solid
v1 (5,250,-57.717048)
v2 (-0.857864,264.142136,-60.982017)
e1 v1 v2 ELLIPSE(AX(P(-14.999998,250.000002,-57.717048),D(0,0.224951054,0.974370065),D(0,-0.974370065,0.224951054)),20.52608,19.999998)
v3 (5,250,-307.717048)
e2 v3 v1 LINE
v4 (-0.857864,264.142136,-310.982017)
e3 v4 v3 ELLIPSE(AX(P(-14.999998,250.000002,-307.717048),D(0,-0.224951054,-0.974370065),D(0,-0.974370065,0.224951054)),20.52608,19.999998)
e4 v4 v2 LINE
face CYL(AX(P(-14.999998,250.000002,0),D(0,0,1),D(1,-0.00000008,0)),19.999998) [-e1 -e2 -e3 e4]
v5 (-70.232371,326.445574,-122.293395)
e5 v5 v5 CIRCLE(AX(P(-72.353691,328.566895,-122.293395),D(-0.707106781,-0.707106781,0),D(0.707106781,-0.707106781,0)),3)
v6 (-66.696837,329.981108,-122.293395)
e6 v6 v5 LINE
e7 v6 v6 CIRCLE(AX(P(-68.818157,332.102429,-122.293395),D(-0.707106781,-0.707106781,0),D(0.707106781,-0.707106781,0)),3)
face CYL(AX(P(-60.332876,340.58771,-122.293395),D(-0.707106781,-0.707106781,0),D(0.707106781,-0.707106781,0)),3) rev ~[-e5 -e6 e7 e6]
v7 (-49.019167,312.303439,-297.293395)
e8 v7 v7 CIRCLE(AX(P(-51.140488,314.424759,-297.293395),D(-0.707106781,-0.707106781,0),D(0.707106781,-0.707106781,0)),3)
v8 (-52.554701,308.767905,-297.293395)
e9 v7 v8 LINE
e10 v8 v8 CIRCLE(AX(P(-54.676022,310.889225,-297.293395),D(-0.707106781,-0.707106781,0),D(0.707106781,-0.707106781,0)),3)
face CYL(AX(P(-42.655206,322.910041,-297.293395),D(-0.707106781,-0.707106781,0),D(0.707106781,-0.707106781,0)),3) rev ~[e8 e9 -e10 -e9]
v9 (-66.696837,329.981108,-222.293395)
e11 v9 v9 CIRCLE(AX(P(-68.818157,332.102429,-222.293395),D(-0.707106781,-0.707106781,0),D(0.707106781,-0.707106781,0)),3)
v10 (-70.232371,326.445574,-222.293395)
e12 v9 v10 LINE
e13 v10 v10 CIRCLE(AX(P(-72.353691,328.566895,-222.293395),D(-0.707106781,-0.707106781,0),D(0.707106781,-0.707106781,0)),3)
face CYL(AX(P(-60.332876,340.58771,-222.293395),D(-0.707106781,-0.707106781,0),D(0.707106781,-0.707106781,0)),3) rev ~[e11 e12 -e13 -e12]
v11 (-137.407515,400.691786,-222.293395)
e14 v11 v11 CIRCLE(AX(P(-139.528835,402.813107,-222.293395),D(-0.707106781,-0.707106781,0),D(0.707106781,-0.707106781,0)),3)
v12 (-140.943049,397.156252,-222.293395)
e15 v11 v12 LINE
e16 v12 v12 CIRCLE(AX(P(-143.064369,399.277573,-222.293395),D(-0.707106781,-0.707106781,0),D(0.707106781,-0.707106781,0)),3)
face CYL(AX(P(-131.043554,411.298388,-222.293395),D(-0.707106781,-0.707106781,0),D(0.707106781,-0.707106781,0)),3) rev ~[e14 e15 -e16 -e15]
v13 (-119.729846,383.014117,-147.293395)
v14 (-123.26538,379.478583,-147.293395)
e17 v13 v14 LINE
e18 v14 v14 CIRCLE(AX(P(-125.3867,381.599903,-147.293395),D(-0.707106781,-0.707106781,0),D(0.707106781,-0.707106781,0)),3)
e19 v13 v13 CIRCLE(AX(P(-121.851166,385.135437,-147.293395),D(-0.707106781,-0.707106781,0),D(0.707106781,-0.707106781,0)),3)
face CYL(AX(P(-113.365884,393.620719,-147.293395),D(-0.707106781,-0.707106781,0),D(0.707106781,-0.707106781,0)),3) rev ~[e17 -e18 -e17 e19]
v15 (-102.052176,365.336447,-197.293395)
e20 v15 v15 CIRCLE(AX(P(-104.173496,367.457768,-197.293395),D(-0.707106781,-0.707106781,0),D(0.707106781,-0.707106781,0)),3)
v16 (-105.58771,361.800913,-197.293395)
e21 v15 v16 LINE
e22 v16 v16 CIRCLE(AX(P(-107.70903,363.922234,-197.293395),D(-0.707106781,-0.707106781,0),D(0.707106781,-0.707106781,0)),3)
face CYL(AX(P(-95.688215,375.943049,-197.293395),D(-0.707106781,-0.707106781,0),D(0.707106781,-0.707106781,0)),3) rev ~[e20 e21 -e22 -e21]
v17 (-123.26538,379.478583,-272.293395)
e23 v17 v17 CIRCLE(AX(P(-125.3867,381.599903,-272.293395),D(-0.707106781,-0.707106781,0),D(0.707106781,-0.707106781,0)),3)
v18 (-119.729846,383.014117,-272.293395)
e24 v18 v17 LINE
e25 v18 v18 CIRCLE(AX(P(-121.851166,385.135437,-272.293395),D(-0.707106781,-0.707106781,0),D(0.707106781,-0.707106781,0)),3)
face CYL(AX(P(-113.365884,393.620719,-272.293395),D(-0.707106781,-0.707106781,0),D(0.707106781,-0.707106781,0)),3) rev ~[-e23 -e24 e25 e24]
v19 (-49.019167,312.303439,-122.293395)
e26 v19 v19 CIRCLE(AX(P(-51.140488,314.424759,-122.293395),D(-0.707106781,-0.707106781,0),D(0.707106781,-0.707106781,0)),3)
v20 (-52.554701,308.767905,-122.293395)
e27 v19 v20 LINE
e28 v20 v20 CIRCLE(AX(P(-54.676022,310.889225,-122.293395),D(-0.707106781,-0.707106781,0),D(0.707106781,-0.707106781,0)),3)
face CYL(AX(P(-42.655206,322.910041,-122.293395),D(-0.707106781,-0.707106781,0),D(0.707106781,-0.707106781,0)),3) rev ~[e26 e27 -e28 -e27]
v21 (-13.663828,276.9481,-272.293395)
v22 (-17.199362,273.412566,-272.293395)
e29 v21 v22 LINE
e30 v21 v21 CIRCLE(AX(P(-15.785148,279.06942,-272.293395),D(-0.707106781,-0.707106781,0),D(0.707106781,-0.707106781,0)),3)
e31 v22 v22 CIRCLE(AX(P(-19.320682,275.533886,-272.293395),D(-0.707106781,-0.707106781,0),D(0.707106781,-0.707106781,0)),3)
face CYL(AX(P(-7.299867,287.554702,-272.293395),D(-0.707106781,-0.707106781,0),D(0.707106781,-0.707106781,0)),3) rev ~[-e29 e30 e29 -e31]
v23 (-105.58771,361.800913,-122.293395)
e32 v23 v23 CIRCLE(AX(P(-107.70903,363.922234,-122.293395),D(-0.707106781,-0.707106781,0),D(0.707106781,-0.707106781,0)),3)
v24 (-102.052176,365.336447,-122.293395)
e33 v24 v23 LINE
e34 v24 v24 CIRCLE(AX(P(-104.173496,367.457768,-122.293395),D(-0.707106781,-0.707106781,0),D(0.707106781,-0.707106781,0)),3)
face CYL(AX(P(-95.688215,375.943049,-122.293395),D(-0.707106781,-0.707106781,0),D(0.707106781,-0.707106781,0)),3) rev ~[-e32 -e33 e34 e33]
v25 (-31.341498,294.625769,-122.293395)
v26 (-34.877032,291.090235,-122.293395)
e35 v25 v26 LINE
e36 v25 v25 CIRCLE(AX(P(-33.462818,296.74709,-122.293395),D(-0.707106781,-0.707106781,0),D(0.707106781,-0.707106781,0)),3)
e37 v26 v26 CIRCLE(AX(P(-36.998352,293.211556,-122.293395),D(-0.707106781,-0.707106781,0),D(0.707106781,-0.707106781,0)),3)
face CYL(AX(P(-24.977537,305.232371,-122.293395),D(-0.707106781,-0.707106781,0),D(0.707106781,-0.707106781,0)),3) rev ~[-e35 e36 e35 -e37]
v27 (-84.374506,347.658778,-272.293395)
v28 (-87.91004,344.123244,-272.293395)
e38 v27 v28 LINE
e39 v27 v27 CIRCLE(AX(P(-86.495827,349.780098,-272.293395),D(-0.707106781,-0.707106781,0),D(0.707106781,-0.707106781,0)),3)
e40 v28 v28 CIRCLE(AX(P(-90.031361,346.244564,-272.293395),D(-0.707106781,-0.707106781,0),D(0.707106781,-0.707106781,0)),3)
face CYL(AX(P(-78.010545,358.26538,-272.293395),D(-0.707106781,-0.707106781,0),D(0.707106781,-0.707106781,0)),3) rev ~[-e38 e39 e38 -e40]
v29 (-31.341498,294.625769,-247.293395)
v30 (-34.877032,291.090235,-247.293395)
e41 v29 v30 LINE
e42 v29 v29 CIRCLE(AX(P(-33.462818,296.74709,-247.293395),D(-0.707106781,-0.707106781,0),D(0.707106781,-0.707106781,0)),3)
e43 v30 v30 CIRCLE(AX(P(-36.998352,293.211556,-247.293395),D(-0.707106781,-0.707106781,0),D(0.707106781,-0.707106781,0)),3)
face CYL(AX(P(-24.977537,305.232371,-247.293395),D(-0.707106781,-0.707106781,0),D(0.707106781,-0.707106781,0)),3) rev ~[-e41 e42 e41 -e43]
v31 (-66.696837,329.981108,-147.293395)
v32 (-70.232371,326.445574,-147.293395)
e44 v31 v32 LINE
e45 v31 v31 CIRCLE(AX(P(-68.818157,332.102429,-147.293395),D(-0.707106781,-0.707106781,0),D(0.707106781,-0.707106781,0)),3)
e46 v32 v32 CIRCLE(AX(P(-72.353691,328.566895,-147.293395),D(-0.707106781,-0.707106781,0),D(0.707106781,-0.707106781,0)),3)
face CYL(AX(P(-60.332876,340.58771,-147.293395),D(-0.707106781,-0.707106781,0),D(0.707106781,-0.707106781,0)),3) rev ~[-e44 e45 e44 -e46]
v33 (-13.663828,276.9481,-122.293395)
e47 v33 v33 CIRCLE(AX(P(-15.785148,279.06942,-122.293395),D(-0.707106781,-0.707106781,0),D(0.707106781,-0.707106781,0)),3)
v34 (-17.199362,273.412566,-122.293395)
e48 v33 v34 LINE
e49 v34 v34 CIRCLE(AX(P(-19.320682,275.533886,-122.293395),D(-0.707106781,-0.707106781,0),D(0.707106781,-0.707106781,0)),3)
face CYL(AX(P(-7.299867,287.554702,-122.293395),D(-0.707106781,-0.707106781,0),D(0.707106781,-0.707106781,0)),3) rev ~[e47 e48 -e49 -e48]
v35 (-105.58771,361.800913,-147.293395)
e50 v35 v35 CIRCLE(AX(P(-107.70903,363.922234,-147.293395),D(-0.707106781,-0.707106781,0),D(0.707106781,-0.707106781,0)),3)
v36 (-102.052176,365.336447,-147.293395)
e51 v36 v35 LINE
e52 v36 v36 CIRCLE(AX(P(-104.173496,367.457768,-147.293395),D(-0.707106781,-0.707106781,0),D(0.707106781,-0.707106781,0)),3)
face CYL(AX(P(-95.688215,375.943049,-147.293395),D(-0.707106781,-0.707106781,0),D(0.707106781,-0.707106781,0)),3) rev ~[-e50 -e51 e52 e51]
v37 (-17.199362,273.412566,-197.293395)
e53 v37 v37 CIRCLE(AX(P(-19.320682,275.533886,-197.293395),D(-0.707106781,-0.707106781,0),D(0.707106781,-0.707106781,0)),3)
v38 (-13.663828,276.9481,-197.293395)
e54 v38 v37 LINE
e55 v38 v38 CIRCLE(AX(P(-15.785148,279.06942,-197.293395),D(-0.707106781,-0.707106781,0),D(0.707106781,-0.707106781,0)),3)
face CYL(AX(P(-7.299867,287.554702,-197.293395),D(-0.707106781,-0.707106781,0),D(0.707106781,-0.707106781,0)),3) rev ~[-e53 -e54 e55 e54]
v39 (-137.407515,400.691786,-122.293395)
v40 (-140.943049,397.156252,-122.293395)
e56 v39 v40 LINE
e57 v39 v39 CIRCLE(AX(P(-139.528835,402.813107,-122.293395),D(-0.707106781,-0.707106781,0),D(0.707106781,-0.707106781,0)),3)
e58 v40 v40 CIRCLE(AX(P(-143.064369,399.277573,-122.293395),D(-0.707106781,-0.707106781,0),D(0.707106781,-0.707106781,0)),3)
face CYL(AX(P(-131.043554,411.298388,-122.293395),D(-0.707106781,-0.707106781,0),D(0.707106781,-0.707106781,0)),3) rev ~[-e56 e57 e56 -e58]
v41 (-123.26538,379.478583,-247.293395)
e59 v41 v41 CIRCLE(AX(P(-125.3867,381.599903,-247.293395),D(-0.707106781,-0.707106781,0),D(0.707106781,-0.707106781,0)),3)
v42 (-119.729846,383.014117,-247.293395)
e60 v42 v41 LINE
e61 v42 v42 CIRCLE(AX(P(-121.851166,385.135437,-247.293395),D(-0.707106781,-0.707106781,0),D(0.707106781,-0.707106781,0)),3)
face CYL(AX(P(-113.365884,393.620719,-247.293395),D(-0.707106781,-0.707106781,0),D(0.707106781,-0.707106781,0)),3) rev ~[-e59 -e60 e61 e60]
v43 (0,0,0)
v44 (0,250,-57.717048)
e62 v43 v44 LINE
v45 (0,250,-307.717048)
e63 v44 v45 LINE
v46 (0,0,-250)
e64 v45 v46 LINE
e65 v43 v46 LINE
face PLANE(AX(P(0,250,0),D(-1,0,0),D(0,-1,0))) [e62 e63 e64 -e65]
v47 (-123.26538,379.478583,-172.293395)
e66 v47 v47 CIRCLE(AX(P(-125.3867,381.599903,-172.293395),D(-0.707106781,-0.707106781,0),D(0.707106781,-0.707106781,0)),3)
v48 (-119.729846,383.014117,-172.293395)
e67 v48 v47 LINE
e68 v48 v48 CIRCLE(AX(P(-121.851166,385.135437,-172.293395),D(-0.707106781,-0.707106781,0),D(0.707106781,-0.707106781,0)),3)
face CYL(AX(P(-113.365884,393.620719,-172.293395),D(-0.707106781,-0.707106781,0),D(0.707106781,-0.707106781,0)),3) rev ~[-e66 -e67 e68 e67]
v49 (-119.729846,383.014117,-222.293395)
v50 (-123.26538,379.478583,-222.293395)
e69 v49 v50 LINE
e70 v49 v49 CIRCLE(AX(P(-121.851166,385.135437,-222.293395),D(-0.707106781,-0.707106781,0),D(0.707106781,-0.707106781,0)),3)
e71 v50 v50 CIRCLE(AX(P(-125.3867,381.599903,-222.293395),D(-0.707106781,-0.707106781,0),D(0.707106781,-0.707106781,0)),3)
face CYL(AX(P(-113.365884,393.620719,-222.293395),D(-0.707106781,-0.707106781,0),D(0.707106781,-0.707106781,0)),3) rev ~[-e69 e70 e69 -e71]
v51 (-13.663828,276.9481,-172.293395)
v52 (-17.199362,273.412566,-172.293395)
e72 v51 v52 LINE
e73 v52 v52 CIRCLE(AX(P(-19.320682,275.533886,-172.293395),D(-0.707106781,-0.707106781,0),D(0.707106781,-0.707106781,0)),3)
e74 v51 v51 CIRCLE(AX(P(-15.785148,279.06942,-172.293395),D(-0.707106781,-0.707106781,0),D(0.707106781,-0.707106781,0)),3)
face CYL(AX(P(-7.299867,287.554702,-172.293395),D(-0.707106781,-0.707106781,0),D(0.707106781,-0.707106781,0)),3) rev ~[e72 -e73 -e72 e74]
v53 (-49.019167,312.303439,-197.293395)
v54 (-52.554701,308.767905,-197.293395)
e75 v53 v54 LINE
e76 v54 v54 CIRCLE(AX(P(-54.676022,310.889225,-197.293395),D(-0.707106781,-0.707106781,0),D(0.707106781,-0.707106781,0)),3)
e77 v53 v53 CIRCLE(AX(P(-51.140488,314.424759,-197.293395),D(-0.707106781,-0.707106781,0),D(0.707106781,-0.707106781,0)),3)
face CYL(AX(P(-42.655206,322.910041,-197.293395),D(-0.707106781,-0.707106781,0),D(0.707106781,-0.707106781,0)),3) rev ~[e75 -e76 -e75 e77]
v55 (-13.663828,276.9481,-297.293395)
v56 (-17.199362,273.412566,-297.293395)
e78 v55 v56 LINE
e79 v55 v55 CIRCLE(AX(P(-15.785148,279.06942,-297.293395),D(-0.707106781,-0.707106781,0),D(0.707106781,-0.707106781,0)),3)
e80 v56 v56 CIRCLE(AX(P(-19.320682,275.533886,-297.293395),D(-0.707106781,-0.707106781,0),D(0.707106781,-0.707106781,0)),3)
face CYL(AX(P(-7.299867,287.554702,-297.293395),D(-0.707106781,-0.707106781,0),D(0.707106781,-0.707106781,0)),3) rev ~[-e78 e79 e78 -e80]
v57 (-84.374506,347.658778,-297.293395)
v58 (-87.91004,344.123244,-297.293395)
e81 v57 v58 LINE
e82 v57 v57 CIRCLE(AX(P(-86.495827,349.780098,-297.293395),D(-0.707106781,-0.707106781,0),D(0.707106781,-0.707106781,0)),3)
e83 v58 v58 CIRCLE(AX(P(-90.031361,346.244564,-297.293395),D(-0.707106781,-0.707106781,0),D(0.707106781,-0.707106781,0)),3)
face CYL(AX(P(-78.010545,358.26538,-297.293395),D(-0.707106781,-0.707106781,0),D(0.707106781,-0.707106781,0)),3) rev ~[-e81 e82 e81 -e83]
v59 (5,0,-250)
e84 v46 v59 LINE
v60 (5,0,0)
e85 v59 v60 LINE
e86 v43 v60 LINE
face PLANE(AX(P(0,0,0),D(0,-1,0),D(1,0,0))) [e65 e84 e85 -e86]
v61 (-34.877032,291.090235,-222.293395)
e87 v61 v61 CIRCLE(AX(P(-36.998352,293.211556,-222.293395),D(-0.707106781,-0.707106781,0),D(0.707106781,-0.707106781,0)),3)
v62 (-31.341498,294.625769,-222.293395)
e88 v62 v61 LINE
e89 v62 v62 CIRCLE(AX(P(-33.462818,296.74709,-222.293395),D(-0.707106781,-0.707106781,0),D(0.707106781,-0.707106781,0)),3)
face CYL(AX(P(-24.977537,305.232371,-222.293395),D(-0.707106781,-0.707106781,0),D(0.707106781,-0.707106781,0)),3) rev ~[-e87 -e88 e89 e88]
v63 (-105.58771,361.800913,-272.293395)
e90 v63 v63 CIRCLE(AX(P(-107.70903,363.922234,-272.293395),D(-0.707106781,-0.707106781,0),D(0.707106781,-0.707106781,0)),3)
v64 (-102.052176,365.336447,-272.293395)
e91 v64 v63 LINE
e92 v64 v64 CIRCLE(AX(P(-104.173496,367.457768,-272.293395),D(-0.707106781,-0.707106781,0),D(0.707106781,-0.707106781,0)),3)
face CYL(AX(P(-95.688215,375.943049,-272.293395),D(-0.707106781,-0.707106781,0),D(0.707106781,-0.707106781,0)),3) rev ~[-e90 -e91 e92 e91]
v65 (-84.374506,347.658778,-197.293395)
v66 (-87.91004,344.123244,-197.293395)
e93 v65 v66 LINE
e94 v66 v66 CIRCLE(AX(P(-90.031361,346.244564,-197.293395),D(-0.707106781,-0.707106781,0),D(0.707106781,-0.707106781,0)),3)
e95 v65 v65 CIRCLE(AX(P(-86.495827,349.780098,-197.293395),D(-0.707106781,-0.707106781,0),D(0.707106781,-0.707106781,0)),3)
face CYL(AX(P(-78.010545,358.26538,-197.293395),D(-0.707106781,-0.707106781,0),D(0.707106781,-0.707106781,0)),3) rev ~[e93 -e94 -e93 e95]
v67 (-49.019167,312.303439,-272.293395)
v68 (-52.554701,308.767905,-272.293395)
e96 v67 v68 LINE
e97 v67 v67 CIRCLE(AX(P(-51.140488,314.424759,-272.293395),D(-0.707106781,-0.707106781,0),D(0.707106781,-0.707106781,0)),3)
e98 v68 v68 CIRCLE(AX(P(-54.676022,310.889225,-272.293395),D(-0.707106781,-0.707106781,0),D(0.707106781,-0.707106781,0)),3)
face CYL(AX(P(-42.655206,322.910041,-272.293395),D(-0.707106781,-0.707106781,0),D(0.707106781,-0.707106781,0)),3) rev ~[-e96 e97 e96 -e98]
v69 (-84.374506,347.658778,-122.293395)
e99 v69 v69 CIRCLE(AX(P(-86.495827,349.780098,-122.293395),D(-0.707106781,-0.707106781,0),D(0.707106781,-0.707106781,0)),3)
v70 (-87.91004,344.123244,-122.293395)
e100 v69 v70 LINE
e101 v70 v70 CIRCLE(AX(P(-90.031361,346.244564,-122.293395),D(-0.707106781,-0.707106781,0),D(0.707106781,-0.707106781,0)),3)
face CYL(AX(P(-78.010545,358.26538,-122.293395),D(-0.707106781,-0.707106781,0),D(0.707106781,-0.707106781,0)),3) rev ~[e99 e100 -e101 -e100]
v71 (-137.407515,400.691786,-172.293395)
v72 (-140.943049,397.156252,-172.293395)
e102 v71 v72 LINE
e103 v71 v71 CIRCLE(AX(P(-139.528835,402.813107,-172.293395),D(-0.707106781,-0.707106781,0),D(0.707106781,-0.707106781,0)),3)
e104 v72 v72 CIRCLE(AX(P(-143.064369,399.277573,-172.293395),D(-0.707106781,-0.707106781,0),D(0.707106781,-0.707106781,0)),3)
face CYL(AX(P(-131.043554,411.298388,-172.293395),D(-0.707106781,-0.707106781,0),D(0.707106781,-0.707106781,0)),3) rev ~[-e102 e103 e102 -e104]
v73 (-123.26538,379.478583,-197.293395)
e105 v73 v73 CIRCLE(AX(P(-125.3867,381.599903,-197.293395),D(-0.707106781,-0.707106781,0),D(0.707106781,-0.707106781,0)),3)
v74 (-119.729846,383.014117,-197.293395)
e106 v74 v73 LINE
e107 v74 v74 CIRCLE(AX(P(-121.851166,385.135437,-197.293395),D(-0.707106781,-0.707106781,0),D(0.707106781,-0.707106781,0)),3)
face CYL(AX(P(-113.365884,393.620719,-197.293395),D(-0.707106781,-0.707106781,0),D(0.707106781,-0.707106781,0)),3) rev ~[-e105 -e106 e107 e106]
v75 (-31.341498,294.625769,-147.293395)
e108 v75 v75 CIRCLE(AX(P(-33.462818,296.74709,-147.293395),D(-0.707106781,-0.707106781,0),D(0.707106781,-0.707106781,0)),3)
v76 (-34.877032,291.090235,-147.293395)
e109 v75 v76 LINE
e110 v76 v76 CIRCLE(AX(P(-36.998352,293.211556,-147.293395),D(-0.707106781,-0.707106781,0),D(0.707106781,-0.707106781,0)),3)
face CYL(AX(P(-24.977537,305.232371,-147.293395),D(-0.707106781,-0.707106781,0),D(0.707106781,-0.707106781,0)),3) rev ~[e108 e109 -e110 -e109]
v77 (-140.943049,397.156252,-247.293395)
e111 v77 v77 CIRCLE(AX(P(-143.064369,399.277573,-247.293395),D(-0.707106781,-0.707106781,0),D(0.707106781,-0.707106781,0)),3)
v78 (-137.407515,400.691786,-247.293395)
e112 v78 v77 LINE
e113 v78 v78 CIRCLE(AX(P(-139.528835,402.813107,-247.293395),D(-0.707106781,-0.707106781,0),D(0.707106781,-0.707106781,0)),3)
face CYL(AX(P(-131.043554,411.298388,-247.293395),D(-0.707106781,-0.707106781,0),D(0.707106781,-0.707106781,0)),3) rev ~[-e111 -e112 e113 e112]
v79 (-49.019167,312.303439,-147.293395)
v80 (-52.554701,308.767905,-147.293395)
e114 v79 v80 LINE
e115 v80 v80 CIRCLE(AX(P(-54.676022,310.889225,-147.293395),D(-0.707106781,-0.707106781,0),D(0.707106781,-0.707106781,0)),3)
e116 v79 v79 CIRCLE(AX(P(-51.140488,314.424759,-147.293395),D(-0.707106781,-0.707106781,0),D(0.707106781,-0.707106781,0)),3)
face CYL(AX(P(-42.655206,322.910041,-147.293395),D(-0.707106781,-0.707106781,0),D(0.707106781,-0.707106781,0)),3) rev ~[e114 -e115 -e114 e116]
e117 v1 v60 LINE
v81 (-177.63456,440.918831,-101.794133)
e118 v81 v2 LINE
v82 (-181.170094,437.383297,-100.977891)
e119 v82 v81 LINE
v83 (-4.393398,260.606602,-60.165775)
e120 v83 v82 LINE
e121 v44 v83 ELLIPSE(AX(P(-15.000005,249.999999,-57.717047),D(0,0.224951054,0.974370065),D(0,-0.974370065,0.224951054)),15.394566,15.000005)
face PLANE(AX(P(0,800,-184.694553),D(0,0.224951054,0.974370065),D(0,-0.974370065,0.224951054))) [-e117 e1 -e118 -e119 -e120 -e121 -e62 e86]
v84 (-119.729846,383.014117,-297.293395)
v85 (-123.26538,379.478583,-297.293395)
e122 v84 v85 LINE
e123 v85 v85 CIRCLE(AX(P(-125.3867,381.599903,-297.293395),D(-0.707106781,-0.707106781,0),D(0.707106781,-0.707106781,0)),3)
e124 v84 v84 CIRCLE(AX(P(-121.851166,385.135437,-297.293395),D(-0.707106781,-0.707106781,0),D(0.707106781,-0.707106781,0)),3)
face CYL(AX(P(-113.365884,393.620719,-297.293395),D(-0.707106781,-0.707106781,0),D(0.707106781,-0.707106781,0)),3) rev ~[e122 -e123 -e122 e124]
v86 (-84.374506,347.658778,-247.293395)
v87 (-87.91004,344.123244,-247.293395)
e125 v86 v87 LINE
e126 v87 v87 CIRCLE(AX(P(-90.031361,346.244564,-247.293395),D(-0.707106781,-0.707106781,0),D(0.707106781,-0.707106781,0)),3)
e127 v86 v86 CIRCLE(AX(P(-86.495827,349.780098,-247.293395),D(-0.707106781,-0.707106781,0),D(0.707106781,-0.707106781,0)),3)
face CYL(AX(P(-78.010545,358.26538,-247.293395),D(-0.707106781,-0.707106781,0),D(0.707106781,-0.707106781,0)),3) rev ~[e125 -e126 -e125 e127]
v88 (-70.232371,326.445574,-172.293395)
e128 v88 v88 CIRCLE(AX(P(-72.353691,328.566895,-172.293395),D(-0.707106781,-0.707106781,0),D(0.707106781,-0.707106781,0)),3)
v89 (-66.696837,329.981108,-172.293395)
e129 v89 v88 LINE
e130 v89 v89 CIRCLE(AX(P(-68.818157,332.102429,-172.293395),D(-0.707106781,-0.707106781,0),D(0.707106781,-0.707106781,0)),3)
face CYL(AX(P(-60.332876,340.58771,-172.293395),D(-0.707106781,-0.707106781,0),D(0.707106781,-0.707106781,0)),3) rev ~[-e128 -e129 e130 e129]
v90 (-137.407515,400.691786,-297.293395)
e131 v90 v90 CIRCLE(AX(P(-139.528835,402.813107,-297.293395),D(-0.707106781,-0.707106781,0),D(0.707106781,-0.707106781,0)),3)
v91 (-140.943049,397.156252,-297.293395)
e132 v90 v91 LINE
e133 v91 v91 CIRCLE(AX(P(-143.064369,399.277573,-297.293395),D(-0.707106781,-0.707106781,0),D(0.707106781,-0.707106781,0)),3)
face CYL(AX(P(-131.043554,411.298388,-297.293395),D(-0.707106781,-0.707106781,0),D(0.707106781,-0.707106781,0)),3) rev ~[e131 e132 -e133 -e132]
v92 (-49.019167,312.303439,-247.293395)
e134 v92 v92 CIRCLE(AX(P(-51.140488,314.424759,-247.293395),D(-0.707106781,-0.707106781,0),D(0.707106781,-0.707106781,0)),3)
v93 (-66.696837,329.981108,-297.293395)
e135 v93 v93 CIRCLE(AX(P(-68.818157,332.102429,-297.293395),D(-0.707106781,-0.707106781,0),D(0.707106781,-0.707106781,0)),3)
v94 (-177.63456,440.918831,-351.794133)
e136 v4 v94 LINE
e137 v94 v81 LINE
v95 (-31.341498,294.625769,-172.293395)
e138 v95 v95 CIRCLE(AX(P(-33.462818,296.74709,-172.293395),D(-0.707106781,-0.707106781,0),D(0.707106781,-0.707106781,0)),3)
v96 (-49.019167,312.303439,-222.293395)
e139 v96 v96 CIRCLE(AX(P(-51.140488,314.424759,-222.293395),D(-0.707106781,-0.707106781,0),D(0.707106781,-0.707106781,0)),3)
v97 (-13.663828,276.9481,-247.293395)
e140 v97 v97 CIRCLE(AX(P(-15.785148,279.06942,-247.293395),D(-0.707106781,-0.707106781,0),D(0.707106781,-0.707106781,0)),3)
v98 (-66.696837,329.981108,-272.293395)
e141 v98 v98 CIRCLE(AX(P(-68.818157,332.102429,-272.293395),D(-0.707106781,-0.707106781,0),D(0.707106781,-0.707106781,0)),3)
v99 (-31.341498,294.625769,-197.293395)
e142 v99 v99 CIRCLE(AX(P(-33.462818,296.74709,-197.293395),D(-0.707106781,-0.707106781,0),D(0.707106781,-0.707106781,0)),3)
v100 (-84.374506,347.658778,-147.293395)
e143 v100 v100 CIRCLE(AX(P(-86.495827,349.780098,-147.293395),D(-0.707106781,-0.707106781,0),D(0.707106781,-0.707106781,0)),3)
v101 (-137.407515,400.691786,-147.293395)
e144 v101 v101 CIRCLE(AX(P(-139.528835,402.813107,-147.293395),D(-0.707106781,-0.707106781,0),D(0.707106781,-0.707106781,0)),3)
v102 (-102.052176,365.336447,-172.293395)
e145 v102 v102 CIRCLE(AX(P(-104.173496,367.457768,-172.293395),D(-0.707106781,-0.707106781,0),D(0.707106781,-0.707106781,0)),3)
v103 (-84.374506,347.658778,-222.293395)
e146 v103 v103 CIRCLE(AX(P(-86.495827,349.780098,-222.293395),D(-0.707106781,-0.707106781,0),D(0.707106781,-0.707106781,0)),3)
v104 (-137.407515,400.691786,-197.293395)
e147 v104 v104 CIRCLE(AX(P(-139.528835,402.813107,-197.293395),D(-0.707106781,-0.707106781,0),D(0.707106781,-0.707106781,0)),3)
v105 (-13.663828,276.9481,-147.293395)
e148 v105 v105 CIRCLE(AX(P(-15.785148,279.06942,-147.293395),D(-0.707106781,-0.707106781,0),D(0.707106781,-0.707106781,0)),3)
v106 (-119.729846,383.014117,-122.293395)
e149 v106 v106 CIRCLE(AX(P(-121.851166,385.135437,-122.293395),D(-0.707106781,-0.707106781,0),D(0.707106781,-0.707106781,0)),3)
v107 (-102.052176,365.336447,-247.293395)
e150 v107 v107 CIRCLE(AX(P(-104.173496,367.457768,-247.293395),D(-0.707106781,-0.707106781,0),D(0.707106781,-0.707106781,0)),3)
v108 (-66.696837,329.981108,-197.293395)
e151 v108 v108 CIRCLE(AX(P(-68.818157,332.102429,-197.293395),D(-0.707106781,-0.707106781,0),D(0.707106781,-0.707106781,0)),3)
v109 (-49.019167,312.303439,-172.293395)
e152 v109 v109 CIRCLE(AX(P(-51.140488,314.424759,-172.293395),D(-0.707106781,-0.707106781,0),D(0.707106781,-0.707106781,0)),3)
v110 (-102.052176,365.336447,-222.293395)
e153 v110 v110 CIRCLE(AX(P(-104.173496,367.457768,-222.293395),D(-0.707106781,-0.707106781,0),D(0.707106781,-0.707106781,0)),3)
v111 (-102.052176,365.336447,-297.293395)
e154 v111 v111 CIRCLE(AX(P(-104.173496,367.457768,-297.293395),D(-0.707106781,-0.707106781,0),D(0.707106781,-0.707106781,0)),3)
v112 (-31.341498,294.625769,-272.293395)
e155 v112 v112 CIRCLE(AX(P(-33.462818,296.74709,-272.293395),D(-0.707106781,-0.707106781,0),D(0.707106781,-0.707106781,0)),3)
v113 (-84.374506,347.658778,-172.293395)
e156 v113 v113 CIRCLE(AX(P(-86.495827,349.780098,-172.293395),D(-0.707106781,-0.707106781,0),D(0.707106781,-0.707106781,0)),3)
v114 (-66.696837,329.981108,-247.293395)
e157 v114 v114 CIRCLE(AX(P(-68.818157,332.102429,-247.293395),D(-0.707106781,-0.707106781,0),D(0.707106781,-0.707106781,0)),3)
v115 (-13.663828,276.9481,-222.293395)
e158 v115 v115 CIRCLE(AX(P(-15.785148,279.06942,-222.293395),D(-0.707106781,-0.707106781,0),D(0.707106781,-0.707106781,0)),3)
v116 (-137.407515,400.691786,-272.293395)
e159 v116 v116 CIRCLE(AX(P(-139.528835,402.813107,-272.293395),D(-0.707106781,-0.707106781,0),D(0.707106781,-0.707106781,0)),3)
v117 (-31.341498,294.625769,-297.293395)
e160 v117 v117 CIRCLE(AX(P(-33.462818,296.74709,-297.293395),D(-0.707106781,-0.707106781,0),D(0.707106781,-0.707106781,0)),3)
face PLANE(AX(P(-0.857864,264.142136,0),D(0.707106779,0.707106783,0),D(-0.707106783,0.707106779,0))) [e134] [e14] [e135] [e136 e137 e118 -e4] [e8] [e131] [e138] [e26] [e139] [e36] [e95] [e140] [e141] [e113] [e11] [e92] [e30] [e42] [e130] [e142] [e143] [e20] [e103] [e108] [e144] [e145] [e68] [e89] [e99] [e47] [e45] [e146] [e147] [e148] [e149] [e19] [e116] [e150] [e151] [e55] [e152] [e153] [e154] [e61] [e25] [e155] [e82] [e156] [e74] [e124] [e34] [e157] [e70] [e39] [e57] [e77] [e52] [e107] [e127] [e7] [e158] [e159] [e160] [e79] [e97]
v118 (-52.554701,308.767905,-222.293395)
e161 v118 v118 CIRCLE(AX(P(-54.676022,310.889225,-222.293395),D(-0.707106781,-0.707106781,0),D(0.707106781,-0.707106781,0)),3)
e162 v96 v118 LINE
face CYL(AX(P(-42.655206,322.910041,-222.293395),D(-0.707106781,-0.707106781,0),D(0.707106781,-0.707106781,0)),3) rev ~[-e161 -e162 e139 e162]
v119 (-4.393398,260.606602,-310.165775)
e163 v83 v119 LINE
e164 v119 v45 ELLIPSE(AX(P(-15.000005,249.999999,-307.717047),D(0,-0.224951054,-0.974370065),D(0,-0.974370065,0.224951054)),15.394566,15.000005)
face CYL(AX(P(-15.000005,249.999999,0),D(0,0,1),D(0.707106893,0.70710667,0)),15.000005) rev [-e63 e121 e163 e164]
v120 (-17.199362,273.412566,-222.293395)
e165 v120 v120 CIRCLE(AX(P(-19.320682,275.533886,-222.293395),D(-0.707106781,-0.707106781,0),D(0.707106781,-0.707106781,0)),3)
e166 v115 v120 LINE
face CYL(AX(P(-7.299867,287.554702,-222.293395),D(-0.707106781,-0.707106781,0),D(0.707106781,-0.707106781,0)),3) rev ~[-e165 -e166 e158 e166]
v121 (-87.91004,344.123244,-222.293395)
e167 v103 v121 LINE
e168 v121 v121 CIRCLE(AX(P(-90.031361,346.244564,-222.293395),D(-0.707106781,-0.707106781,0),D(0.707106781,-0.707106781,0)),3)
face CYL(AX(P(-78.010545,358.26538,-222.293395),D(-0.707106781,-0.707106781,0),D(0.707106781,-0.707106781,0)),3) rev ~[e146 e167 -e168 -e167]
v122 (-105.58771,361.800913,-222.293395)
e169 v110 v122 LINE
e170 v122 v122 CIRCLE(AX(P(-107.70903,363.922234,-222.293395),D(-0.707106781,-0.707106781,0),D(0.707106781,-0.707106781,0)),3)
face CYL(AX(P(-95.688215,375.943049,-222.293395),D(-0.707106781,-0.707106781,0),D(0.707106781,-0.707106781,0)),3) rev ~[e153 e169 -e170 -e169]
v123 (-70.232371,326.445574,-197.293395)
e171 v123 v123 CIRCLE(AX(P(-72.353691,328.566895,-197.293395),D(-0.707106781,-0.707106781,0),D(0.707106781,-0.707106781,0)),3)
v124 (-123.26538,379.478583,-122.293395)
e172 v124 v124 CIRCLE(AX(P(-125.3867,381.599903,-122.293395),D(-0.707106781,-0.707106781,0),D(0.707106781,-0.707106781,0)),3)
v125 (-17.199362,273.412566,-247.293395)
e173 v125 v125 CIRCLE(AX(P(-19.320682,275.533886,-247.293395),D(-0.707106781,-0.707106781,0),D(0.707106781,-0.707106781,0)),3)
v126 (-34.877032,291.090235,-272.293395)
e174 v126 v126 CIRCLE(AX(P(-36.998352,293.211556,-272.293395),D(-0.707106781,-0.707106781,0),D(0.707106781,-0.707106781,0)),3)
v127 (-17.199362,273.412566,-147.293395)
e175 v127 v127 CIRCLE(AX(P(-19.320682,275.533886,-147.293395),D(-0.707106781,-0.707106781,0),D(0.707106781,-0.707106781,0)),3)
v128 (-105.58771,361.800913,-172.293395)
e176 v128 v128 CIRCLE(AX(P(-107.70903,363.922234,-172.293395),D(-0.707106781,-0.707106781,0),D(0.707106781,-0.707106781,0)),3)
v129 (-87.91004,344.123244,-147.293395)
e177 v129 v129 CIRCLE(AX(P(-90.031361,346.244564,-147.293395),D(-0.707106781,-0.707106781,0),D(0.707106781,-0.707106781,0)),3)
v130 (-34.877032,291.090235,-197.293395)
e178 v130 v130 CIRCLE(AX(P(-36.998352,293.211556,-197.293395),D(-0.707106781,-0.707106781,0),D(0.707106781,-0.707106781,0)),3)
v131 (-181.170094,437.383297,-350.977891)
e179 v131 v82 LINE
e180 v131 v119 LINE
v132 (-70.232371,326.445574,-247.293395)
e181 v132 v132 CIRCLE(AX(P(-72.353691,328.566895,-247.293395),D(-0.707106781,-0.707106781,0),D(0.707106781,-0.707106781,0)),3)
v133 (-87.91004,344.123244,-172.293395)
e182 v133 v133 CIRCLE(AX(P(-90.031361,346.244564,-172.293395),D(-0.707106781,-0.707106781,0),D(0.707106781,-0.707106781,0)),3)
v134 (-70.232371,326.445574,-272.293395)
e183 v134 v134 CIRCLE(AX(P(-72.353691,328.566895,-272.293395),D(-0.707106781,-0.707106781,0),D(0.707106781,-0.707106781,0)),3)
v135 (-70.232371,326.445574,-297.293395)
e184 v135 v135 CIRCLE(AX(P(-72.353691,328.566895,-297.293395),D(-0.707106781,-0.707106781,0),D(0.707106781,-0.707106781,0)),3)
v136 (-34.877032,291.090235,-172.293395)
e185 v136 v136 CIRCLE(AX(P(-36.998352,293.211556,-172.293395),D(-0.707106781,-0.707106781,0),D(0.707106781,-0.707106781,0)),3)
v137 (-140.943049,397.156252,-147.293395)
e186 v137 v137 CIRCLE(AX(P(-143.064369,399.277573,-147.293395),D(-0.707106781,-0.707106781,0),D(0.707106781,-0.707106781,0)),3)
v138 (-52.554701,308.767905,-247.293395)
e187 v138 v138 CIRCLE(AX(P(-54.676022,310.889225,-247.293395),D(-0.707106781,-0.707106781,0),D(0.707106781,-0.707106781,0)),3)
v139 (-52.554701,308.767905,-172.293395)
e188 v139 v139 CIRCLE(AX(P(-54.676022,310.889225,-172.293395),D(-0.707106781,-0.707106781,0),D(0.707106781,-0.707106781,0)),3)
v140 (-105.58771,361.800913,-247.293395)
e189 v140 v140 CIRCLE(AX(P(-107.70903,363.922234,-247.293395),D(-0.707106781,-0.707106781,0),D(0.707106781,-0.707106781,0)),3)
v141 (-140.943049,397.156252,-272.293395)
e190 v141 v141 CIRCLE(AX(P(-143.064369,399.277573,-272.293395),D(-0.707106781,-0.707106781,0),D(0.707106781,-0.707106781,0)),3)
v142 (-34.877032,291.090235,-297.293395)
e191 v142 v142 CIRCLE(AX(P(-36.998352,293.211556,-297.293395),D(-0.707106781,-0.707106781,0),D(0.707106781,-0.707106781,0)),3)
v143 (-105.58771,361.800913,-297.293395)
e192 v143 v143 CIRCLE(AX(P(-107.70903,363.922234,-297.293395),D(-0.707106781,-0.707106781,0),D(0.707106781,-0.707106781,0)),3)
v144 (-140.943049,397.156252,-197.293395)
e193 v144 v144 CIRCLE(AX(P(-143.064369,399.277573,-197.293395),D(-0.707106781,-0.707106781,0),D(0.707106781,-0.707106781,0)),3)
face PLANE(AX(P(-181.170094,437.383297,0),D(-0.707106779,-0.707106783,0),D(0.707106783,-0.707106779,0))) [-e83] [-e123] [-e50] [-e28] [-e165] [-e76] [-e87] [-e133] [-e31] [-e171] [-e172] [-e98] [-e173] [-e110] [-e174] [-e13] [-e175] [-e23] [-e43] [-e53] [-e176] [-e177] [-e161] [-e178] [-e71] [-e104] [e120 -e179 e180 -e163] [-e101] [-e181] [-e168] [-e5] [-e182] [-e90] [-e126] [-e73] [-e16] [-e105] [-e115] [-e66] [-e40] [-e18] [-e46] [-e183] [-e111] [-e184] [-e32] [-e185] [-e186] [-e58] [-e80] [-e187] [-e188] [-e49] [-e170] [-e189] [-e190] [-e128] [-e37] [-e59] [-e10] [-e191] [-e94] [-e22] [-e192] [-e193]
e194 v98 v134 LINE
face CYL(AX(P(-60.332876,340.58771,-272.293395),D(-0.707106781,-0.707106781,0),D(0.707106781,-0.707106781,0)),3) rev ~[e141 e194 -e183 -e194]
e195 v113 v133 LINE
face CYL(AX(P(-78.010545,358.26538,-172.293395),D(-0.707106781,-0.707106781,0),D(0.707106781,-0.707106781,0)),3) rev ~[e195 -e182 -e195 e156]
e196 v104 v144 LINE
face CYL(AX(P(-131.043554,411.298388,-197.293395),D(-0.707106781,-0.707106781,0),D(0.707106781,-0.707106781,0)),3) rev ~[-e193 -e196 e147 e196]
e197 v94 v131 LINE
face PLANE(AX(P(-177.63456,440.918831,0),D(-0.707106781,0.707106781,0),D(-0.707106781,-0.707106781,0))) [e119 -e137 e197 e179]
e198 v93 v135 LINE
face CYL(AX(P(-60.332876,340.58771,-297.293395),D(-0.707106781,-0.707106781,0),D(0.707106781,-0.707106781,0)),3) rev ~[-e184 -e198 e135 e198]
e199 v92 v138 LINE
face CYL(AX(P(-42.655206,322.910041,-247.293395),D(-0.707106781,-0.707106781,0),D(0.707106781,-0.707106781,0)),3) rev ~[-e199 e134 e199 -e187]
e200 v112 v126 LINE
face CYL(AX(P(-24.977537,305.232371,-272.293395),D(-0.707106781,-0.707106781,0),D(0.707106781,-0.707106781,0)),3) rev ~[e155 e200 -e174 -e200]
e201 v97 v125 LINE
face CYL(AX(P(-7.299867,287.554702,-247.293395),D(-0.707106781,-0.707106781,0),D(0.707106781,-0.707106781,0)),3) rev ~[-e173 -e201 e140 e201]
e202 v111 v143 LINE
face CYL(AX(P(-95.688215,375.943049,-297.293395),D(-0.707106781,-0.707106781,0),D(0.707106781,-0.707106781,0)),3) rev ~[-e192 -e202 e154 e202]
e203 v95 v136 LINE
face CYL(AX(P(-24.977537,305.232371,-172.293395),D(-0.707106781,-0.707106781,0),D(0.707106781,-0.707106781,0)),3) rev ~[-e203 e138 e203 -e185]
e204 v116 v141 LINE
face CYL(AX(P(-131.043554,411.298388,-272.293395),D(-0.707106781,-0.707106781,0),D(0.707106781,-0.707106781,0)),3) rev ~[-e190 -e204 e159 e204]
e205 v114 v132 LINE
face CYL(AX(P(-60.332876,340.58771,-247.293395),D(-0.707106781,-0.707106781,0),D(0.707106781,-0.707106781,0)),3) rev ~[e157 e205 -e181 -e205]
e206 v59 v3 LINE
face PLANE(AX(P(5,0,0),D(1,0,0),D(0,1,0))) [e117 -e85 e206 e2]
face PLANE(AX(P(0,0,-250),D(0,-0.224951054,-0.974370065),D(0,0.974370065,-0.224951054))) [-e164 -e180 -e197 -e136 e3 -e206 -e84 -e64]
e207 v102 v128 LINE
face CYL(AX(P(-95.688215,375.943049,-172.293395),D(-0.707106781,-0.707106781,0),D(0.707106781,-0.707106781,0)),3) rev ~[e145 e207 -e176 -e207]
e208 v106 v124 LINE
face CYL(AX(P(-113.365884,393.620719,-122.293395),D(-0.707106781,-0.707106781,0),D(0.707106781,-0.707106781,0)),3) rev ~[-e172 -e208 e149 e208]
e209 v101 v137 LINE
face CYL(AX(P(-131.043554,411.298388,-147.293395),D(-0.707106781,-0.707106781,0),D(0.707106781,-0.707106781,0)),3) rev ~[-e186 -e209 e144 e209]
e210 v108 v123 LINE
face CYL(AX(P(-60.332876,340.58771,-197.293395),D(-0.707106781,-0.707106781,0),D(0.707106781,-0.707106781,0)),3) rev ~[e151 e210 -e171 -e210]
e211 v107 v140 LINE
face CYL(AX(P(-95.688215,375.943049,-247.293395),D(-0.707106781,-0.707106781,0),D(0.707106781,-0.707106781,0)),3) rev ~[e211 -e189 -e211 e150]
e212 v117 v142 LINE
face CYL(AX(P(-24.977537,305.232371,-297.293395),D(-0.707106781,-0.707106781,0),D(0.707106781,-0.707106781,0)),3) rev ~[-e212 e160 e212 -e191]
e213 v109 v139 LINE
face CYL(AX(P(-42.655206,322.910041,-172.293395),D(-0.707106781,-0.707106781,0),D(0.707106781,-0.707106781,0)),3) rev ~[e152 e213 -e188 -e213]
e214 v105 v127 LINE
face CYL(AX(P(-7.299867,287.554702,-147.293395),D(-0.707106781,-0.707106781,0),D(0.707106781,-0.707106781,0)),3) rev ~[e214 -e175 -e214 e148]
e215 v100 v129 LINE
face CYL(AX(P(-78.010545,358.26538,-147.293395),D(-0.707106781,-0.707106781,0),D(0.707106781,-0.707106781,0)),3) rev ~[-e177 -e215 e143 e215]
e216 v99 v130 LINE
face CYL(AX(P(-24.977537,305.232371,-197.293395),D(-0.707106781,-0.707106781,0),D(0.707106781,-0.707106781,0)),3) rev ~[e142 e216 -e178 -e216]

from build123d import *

# Parameters (mm, degrees)
F2_DEPTH = 500
F3_DEPTH = 250
F5_D     = 6
F5_DEPTH = 12


with BuildPart() as f2:
    # F1 (on Top) → F2 (new body, symmetric)
    with BuildSketch(Plane.XY):
        with BuildLine():
            Line((0, 0), (5, 0))
            Line((5, 0), (5, 250))
            ThreePointArc((5, 250), (3.477591, 257.653669), (-0.857864, 264.142136))
            Line((-0.857864, 264.142136), (-177.63456, 440.918831))
            Line((-177.63456, 440.918831), (-181.170094, 437.383297))
            Line((-181.170094, 437.383297), (-4.393398, 260.606602))
            ThreePointArc((-4.393398, 260.606602), (-1.141807, 255.740251), (0, 250))
            Line((0, 250), (0, 0))
        make_face()
    extrude(amount=F2_DEPTH, both=True)

    # F0 (on Right) → F3 (intersect, symmetric)
    with BuildSketch(Plane.YZ):
        Polygon((800, -184.694553), (0, 0), (0, -250), (800, -434.694553), align=None)
    extrude(amount=F3_DEPTH, both=True, mode=Mode.INTERSECT)

    # F5
    with Locations(Plane(origin=(131.642136, 131.642136, 0), x_dir=(-0.707107, 0.707107, 0), z_dir=(0.707107, 0.707107, 0))):
        with Locations((208.493665, -122.293395), (233.493665, -122.293395), (258.493665, -122.293395), (283.493665, -122.293395), (308.493665, -122.293395), (208.493665, -147.293395), (308.493665, -147.293395), (258.493665, -172.293395), (258.493665, -147.293395), (258.493665, -297.293395), (308.493665, -247.293395), (208.493665, -172.293395), (208.493665, -197.293395), (208.493665, -247.293395), (208.493665, -297.293395), (308.493665, -272.293395), (258.493665, -222.293395), (383.493665, -122.293395), (258.493665, -272.293395), (333.493665, -197.293395), (358.493665, -272.293395), (308.493665, -197.293395), (258.493665, -197.293395), (283.493665, -147.293395), (283.493665, -222.293395), (233.493665, -222.293395), (333.493665, -172.293395), (283.493665, -172.293395), (233.493665, -272.293395), (258.493665, -247.293395), (383.493665, -297.293395), (283.493665, -297.293395), (333.493665, -297.293395), (233.493665, -297.293395), (383.493665, -172.293395), (383.493665, -247.293395), (383.493665, -147.293395), (333.493665, -247.293395), (308.493665, -172.293395), (333.493665, -147.293395), (283.493665, -247.293395), (233.493665, -247.293395), (358.493665, -247.293395), (383.493665, -272.293395), (283.493665, -272.293395), (333.493665, -272.293395), (358.493665, -197.293395), (383.493665, -222.293395), (233.493665, -147.293395), (333.493665, -222.293395), (308.493665, -297.293395), (233.493665, -172.293395), (233.493665, -197.293395), (358.493665, -147.293395), (358.493665, -222.293395), (283.493665, -197.293395), (358.493665, -172.293395), (383.493665, -197.293395), (308.493665, -222.293395), (208.493665, -272.293395), (358.493665, -297.293395), (208.493665, -222.293395), (358.493665, -122.293395), (333.493665, -122.293395)):
            Hole(F5_D / 2, depth=F5_DEPTH)


solid = f2.part
